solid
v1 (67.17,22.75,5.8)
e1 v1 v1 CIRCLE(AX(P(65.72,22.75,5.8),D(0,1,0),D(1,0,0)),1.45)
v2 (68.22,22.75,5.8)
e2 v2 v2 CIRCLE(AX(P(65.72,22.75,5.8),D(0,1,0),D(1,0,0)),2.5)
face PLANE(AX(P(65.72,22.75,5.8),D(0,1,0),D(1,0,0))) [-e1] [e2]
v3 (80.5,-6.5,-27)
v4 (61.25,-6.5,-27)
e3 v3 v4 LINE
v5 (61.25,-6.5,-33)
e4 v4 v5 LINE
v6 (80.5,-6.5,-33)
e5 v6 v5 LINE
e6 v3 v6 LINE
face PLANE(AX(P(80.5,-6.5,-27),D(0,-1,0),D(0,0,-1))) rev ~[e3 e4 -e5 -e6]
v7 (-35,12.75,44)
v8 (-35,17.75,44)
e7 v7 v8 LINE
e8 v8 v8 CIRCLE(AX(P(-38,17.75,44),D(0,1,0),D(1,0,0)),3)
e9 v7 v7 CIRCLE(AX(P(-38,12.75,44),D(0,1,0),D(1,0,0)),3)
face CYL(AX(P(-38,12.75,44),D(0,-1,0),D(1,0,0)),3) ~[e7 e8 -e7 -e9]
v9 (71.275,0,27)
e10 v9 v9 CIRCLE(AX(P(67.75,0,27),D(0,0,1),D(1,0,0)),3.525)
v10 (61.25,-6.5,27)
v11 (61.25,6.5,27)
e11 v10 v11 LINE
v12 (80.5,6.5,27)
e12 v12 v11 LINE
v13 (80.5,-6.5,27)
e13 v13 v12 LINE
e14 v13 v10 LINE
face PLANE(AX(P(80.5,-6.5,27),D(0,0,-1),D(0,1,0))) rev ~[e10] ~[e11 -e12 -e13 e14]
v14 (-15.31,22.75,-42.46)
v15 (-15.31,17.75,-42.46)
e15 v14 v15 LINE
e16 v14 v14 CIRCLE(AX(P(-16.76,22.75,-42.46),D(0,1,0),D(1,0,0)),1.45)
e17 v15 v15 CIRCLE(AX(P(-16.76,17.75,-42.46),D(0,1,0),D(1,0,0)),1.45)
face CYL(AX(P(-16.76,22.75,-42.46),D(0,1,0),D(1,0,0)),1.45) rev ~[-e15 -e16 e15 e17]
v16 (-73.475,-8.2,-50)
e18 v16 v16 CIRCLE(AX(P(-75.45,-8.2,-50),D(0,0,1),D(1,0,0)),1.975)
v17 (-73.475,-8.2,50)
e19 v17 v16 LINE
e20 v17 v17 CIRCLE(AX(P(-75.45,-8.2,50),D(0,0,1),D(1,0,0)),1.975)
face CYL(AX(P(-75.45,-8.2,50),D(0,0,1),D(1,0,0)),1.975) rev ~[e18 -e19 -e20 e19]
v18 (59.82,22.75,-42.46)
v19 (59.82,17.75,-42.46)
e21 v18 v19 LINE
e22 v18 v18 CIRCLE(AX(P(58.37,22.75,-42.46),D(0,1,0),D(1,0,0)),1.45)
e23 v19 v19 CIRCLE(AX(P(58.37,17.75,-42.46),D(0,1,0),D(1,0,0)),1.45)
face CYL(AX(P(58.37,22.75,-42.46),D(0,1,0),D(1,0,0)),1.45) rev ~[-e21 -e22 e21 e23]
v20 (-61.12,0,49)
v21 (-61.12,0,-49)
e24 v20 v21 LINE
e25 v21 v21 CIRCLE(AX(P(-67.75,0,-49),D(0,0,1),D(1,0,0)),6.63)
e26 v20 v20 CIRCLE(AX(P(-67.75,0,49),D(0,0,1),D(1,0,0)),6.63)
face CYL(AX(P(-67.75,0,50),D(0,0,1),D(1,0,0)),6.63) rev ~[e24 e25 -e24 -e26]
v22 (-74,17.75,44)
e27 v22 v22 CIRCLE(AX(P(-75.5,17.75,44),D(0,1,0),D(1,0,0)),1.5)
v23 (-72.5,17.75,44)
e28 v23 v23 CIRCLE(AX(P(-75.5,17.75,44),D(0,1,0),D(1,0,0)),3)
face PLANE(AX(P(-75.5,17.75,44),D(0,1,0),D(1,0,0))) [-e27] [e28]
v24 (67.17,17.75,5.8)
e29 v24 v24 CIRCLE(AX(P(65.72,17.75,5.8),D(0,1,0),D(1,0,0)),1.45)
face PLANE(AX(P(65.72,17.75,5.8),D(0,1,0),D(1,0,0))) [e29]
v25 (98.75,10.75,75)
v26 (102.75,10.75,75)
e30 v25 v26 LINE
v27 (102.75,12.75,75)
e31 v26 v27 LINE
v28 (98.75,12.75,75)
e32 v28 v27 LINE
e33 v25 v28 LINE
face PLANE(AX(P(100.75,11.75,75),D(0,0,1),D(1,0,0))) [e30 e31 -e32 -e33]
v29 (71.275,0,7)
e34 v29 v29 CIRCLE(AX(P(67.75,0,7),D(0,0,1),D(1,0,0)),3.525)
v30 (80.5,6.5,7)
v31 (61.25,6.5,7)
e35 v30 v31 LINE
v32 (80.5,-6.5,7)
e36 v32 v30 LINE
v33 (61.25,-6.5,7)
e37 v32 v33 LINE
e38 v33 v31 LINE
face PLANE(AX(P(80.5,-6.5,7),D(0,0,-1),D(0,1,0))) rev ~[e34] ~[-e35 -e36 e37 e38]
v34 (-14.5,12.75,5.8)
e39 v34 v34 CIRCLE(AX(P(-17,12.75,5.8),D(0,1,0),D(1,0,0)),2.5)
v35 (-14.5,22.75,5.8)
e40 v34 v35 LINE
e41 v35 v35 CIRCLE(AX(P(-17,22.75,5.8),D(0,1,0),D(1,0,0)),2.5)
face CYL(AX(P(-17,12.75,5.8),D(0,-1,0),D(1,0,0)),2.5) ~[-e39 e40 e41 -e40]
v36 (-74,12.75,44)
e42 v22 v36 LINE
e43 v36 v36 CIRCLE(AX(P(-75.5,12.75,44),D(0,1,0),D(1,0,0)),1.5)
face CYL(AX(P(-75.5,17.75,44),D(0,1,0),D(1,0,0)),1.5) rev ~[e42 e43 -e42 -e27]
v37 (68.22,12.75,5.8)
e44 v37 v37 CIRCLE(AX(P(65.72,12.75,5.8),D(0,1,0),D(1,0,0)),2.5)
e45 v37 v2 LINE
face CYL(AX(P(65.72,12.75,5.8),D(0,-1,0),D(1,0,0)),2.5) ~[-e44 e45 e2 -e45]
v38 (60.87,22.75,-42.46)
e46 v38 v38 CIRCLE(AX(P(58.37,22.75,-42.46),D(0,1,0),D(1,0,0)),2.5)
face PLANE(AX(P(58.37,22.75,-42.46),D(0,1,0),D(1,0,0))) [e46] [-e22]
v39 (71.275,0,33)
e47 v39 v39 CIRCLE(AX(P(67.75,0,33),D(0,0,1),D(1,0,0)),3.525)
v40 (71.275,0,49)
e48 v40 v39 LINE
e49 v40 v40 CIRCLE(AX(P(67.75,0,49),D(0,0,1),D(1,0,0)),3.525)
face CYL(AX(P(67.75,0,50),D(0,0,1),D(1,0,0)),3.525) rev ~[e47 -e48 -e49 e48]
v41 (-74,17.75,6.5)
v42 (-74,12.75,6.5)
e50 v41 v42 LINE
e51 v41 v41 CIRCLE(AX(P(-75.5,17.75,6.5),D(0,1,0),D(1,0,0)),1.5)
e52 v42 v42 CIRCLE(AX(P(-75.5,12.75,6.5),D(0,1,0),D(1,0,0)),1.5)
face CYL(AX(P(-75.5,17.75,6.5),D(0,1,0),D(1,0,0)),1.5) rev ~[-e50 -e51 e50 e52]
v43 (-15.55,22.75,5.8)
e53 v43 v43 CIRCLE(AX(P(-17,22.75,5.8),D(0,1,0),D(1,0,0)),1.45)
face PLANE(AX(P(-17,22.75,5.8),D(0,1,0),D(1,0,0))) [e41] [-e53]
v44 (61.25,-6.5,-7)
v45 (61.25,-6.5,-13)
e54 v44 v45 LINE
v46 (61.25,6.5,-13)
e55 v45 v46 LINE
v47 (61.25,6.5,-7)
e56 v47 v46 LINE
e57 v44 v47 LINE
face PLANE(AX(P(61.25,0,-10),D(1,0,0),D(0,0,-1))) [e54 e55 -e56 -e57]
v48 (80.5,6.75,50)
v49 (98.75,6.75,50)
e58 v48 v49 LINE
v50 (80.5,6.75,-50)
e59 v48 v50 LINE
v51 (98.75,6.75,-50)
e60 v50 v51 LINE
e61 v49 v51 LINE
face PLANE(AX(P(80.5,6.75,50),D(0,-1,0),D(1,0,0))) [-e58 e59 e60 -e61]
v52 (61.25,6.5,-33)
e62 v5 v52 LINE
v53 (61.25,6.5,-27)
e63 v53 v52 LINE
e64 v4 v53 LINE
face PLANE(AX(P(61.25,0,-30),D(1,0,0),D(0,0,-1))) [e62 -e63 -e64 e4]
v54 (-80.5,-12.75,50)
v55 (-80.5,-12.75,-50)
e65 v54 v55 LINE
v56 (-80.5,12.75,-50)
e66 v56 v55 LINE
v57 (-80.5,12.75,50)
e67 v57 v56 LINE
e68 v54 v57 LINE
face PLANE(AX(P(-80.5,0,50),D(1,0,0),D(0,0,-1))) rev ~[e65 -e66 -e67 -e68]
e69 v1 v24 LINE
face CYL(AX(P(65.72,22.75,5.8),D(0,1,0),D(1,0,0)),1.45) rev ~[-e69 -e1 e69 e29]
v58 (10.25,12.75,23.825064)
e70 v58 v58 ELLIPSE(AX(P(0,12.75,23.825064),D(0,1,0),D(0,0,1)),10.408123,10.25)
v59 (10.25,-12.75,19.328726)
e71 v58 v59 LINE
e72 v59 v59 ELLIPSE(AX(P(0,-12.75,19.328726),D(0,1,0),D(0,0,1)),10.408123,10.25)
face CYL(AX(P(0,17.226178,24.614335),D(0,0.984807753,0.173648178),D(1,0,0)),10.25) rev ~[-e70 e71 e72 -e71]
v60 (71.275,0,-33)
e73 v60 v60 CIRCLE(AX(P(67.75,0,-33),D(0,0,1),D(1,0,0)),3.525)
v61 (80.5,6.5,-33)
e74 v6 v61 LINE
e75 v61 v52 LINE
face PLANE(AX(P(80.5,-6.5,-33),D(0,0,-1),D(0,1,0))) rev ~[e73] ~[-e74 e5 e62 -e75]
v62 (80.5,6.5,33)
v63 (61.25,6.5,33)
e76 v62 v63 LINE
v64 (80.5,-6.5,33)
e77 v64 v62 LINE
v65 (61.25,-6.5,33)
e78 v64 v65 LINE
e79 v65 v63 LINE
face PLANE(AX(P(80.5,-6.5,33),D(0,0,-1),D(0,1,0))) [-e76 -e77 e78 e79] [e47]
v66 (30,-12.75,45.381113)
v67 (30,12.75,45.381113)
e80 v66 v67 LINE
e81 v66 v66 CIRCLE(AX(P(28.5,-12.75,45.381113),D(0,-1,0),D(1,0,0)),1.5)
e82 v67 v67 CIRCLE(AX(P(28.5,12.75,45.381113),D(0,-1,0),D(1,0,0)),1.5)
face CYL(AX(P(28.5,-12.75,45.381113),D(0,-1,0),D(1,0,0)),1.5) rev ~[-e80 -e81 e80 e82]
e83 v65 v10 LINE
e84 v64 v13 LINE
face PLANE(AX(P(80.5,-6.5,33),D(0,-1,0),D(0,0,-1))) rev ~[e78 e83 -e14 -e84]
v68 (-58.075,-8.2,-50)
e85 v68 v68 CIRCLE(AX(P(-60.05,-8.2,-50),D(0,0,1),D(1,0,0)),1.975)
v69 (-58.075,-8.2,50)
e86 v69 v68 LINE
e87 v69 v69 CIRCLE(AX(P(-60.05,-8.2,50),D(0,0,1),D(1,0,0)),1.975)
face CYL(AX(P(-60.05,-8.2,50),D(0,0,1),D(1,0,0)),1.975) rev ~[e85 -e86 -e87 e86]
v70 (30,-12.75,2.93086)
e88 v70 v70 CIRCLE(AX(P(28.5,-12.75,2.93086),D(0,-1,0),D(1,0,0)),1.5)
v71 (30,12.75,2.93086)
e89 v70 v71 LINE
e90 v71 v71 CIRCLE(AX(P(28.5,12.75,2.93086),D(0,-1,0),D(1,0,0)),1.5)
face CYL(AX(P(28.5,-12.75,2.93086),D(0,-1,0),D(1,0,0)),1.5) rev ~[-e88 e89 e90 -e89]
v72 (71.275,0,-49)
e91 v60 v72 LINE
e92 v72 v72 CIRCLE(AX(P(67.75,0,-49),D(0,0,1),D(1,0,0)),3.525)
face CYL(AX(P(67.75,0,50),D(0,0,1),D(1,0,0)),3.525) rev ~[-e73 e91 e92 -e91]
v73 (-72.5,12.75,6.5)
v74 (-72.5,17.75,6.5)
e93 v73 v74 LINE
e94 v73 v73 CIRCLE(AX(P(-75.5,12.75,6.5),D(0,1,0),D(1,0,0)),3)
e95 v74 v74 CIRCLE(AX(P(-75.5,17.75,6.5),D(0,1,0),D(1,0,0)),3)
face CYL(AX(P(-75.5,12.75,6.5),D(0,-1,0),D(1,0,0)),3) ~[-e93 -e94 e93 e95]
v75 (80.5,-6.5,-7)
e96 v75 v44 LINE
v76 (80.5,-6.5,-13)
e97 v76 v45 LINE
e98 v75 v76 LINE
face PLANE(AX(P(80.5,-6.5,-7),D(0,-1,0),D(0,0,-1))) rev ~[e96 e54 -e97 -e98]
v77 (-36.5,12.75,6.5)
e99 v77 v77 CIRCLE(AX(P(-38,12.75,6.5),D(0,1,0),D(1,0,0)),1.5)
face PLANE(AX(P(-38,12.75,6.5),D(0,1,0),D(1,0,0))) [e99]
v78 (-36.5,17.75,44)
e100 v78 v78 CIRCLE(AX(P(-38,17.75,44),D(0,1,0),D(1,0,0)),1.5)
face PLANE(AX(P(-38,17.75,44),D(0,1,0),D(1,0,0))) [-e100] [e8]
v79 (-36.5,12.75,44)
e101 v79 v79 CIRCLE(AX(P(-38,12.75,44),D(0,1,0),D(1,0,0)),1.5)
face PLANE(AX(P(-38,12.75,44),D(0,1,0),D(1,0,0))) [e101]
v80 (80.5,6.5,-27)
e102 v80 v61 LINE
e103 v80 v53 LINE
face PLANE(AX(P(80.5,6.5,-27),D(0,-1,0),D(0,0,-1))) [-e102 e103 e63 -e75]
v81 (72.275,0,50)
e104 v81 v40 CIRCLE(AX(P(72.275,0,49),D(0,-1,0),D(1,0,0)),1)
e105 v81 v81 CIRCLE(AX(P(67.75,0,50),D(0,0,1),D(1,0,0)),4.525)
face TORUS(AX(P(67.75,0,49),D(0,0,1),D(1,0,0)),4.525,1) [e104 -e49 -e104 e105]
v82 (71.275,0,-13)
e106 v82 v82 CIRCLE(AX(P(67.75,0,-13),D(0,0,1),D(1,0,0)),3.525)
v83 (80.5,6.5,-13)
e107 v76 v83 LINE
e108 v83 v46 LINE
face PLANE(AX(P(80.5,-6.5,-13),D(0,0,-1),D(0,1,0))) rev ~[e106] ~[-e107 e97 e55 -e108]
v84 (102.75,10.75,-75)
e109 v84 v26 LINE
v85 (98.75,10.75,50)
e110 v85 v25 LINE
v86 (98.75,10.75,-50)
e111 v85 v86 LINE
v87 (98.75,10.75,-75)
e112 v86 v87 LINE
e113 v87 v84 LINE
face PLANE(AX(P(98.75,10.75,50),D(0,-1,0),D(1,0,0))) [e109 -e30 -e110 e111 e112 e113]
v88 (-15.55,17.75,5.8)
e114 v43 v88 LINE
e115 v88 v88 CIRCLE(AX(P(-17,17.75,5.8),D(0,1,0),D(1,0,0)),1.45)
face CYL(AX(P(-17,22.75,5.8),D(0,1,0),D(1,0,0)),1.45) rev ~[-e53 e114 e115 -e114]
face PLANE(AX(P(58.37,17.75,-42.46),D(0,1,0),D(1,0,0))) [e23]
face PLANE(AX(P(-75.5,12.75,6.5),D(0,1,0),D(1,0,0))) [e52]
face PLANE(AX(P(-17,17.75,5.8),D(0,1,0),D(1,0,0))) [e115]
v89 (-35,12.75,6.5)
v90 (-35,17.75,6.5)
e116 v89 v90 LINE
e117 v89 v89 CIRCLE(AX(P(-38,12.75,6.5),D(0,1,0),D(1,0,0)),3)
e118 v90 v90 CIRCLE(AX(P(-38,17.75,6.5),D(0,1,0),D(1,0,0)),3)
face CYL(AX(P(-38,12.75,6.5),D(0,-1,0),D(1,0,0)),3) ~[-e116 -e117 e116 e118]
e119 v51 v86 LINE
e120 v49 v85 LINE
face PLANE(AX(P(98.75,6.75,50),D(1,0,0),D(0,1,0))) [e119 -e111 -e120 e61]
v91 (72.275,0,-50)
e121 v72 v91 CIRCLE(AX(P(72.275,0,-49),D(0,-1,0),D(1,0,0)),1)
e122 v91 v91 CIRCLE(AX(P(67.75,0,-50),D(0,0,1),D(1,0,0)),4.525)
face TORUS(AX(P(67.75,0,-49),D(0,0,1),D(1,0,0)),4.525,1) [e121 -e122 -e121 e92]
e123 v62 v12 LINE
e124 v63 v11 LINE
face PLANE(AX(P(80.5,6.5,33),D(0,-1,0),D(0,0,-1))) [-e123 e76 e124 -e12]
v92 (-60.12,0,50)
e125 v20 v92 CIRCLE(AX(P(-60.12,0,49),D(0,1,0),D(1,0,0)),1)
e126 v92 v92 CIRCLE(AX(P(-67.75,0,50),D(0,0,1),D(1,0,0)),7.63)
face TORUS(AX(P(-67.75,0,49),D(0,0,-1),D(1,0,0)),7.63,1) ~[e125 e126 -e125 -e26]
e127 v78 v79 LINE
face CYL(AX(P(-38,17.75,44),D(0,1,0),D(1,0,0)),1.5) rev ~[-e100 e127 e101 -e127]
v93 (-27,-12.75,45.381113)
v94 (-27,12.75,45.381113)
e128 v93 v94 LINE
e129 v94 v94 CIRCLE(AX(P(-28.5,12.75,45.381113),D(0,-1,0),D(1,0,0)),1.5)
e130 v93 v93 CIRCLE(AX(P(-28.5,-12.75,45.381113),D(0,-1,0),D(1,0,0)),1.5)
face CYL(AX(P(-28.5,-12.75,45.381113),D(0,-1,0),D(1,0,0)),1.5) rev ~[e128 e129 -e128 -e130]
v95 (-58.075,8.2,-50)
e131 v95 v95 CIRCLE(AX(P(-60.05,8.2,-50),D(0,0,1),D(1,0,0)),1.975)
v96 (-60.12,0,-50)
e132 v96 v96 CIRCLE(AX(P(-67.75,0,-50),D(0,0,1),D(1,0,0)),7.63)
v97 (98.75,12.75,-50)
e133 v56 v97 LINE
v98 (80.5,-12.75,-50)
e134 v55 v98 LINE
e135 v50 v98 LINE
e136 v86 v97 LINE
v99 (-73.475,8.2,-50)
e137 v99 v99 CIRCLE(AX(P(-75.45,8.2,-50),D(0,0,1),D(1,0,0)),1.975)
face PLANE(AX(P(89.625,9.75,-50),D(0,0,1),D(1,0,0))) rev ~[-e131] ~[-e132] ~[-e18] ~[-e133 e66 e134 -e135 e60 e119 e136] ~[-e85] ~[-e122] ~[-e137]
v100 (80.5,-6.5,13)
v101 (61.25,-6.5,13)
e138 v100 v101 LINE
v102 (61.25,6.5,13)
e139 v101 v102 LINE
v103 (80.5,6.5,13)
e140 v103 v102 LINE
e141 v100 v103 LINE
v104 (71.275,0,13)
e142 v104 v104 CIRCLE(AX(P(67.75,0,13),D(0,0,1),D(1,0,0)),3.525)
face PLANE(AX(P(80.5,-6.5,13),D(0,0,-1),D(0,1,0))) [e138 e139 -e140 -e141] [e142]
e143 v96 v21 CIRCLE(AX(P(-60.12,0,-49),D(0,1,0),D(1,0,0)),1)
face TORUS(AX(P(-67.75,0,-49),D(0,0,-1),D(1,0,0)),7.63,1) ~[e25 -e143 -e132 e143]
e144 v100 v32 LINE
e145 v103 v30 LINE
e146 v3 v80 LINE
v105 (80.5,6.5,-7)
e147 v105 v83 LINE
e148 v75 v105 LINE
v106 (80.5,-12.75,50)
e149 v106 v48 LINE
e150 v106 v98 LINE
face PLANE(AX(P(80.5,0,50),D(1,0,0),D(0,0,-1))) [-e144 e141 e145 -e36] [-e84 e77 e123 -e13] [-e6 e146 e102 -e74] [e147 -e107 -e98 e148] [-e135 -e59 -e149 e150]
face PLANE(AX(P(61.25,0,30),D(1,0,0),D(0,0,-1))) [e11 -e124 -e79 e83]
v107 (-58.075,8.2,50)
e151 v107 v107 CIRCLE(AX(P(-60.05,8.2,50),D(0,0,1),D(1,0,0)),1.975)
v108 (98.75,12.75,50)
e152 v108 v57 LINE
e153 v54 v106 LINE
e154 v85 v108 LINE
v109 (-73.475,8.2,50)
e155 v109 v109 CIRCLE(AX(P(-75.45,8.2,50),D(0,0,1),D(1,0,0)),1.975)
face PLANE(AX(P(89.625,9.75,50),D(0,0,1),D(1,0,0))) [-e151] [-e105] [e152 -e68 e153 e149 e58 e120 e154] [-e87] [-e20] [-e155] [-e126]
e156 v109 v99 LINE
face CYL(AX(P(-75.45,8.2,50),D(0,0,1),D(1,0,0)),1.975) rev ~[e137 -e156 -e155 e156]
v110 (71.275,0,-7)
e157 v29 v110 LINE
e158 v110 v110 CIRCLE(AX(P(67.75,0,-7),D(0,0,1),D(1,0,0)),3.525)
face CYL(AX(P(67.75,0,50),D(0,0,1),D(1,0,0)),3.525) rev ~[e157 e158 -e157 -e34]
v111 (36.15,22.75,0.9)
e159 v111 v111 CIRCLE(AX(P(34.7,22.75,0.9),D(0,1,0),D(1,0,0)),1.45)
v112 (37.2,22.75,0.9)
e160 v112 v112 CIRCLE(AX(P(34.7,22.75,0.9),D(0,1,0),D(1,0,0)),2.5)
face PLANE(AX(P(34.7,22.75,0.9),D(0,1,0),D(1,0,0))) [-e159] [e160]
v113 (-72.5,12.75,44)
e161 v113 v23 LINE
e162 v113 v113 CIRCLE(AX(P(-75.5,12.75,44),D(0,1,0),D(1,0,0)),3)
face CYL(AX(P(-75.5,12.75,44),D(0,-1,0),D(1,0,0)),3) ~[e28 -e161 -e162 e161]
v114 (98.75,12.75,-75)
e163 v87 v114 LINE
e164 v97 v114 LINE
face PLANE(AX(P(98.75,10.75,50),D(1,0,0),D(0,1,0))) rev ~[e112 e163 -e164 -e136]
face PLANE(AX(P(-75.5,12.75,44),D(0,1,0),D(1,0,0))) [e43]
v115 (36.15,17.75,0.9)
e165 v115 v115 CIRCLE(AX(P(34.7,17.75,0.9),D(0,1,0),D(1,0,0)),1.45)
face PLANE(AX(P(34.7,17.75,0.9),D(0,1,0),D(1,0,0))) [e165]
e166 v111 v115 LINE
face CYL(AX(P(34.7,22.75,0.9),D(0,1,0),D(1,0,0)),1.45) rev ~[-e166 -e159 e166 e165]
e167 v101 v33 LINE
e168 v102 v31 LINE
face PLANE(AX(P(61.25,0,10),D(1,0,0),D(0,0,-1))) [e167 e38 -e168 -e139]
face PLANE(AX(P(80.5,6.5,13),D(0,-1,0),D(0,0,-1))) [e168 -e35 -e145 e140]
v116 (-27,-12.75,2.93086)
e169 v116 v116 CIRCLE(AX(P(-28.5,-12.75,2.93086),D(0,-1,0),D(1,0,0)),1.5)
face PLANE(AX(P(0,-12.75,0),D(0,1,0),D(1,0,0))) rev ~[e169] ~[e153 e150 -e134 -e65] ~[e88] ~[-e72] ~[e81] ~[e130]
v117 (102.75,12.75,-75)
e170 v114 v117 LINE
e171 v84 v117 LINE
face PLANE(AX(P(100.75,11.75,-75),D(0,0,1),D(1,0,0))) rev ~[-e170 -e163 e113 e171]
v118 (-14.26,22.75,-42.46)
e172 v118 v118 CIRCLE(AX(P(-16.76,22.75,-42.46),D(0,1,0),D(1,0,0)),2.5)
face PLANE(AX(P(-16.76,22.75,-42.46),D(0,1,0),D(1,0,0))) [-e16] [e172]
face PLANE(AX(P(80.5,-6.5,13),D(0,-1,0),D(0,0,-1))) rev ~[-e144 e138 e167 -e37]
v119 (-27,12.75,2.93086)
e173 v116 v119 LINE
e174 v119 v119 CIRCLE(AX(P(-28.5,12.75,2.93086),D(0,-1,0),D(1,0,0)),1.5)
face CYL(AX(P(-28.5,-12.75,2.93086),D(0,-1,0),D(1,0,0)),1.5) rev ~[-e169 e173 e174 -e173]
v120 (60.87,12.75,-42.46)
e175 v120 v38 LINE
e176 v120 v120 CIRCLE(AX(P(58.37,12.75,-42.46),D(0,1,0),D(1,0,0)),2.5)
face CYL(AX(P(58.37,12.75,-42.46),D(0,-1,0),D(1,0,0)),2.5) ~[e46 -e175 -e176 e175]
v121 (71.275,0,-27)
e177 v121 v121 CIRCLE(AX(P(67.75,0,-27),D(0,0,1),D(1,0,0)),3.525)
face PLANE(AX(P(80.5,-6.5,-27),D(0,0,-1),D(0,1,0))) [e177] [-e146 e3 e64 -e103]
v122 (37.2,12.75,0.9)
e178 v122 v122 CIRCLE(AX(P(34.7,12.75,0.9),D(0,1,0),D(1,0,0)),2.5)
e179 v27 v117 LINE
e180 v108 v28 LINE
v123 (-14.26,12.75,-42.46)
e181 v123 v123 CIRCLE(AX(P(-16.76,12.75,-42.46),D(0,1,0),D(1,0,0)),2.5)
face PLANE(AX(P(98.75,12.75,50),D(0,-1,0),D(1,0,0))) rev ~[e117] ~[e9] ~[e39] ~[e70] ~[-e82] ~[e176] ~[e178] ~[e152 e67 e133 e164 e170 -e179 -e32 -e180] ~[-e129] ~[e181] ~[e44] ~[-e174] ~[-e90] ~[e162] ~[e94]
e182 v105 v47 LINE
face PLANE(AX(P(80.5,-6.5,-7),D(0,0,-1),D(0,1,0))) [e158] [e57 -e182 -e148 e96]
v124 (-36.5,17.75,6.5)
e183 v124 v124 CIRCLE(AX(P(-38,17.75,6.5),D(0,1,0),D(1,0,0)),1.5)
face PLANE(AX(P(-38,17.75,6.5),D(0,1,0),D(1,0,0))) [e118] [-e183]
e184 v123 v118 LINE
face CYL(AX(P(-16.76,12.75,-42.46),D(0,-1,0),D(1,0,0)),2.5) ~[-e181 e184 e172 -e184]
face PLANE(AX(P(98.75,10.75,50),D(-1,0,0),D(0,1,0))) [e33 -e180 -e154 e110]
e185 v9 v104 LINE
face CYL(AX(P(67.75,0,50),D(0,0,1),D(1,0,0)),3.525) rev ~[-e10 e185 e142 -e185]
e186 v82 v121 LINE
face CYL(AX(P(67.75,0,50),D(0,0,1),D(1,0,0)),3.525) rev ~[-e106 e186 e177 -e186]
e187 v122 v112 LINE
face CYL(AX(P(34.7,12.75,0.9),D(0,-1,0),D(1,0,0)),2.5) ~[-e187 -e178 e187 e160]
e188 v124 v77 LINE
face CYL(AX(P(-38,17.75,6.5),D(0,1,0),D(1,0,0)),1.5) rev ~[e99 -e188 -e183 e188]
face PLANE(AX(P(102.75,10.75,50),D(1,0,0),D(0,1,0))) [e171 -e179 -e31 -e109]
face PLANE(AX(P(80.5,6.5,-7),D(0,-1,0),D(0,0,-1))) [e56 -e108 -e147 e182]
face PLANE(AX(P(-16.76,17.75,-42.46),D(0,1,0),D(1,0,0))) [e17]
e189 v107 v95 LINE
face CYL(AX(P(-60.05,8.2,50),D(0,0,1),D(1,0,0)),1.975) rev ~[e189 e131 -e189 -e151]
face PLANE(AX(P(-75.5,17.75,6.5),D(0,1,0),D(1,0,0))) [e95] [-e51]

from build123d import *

# Parameters (mm, degrees)
SKETCH1_W                = 161
SKETCH1_H                = 100
BOSS_EXTRUDE1_DEPTH      = 12.75
BOSS_EXTRUDE1_DEPTH_BACK = 12.75
SKETCH2_R                = 6.63
SKETCH2_R_2              = 3.525
SKETCH2_R_3              = 1.975
CUT_EXTRUDE1_DEPTH       = 101
FILLET1_R                = 1
FILLET2_R                = 1
FILLET3_R                = 1
FILLET4_R                = 1
SKETCH3_R                = 2.5
BOSS_EXTRUDE2_DEPTH      = 10
SKETCH4_R                = 1.45
CUT_EXTRUDE2_DEPTH       = 5
SKETCH5_W                = 6
SKETCH5_H                = 13
CUT_EXTRUDE3_DEPTH       = 19.25
SKETCH6_R                = 10.25
CUT_EXTRUDE4_DEPTH       = 43.477415469
SKETCH8_R                = 1.5
CUT_EXTRUDE5_DEPTH       = 36.5
SKETCH11_R               = 3
BOSS_EXTRUDE4_DEPTH      = 5
SKETCH12_R               = 1.5
CUT_EXTRUDE7_DEPTH       = 5
SKETCH13_W               = 18.25
SKETCH13_H               = 6
BOSS_EXTRUDE5_DEPTH      = 100
SKETCH14_W               = 4
SKETCH14_H               = 2
BOSS_EXTRUDE6_DEPTH      = 25
BOSS_EXTRUDE6_DEPTH_BACK = 125


with BuildPart() as part:
    # Sketch1 → Boss-Extrude1 (new body, two sides)
    with BuildSketch(Plane(origin=(0, 0, 0), x_dir=(1, 0, 0), z_dir=(0, 1, 0))) as boss_extrude1_sk:
        Rectangle(SKETCH1_W, SKETCH1_H)
    extrude(amount=BOSS_EXTRUDE1_DEPTH)
    extrude(boss_extrude1_sk.sketch, amount=-BOSS_EXTRUDE1_DEPTH_BACK)

    # Sketch2 → Cut-Extrude1 (cut, through all)
    with BuildSketch(Plane.XY.offset(50)):
        with Locations((-67.75, 0)):
            Circle(SKETCH2_R)
        with Locations((67.75, 0)):
            Circle(SKETCH2_R_2)
        with Locations((-75.45, 8.2)):
            Circle(SKETCH2_R_3)
        with Locations((-75.45, -8.2)):
            Circle(SKETCH2_R_3)
        with Locations((-60.05, -8.2)):
            Circle(SKETCH2_R_3)
        with Locations((-60.05, 8.2)):
            Circle(SKETCH2_R_3)
    extrude(amount=-CUT_EXTRUDE1_DEPTH, mode=Mode.SUBTRACT)

    # Fillet1
    fillet1_edges = [part.edges().sort_by_distance(p)[0] for p in [
        (-74.38, 0, -50),
    ]]
    fillet(fillet1_edges, radius=FILLET1_R)

    # Fillet2
    fillet2_edges = [part.edges().sort_by_distance(p)[0] for p in [
        (-74.38, 0, 50),
    ]]
    fillet(fillet2_edges, radius=FILLET2_R)

    # Fillet3
    fillet3_edges = [part.edges().sort_by_distance(p)[0] for p in [
        (64.225, 0, 50),
    ]]
    fillet(fillet3_edges, radius=FILLET3_R)

    # Fillet4
    fillet4_edges = [part.edges().sort_by_distance(p)[0] for p in [
        (64.225, 0, -50),
    ]]
    fillet(fillet4_edges, radius=FILLET4_R)

    # Sketch3 → Boss-Extrude2 (add)
    with BuildSketch(Plane(origin=(0, 12.75, 0), x_dir=(1, 0, 0), z_dir=(0, 1, 0))):
        with Locations((-16.76, 42.46)):
            Circle(SKETCH3_R)
        with Locations((58.37, 42.46)):
            Circle(SKETCH3_R)
        with Locations((-17, -5.8)):
            Circle(SKETCH3_R)
        with Locations((34.7, -0.9)):
            Circle(SKETCH3_R)
        with Locations((65.72, -5.8)):
            Circle(SKETCH3_R)
    extrude(amount=BOSS_EXTRUDE2_DEPTH)

    # Sketch4 → Cut-Extrude2 (cut)
    with BuildSketch(Plane(origin=(0, 22.75, 0), x_dir=(1, 0, 0), z_dir=(0, 1, 0))):
        with Locations((-16.76, 42.46)):
            Circle(SKETCH4_R)
        with Locations((-17, -5.8)):
            Circle(SKETCH4_R)
        with Locations((34.7, -0.9)):
            Circle(SKETCH4_R)
        with Locations((65.72, -5.8)):
            Circle(SKETCH4_R)
        with Locations((58.37, 42.46)):
            Circle(SKETCH4_R)
    extrude(amount=-CUT_EXTRUDE2_DEPTH, mode=Mode.SUBTRACT)

    # Sketch5 → Cut-Extrude3 (cut)
    with BuildSketch(Plane(origin=(80.5, 0, 0), x_dir=(0, 0, -1), z_dir=(1, 0, 0))):
        with Locations((-30, 0)):
            Rectangle(SKETCH5_W, SKETCH5_H)
        with Locations((-10, 0)):
            Rectangle(SKETCH5_W, SKETCH5_H)
        with Locations((10, 0)):
            Rectangle(SKETCH5_W, SKETCH5_H)
        with Locations((30, 0)):
            Rectangle(SKETCH5_W, SKETCH5_H)
    extrude(amount=-CUT_EXTRUDE3_DEPTH, mode=Mode.SUBTRACT)

    # Sketch6 → Cut-Extrude4 (cut, through all)
    with BuildSketch(Plane(origin=(0, 20.916044041, 3.688062894), x_dir=(1, 0, 0), z_dir=(0, 0.984807753, 0.173648178))):
        with Locations((0, -21.249093385)):
            Circle(SKETCH6_R)
    extrude(amount=-CUT_EXTRUDE4_DEPTH, mode=Mode.SUBTRACT)

    # Sketch8 → Cut-Extrude5 (cut, through all)
    with BuildSketch(Plane.XZ.offset(12.75)):
        with Locations((28.5, 2.93086019)):
            Circle(SKETCH8_R)
        with Locations((28.5, 45.38111272)):
            Circle(SKETCH8_R)
        with Locations((-28.5, 2.93086019)):
            Circle(SKETCH8_R)
        with Locations((-28.5, 45.38111272)):
            Circle(SKETCH8_R)
    extrude(amount=-CUT_EXTRUDE5_DEPTH, mode=Mode.SUBTRACT)

    # Sketch11 → Boss-Extrude4 (add)
    with BuildSketch(Plane(origin=(0, 12.75, 0), x_dir=(1, 0, 0), z_dir=(0, 1, 0))):
        with Locations((-38, -6.5)):
            Circle(SKETCH11_R)
        with Locations((-38, -44)):
            Circle(SKETCH11_R)
        with Locations((-75.5, -6.5)):
            Circle(SKETCH11_R)
        with Locations((-75.5, -44)):
            Circle(SKETCH11_R)
    extrude(amount=BOSS_EXTRUDE4_DEPTH)

    # Sketch12 → Cut-Extrude7 (cut)
    with BuildSketch(Plane(origin=(0, 17.75, 0), x_dir=(1, 0, 0), z_dir=(0, 1, 0))):
        with Locations((-75.5, -44)):
            Circle(SKETCH12_R)
        with Locations((-75.5, -6.5)):
            Circle(SKETCH12_R)
        with Locations((-38, -6.5)):
            Circle(SKETCH12_R)
        with Locations((-38, -44)):
            Circle(SKETCH12_R)
    extrude(amount=-CUT_EXTRUDE7_DEPTH, mode=Mode.SUBTRACT)

    # Sketch13 → Boss-Extrude5 (add)
    with BuildSketch(Plane.XY.offset(50)):
        with Locations((89.625, 9.75)):
            Rectangle(SKETCH13_W, SKETCH13_H)
    extrude(amount=-BOSS_EXTRUDE5_DEPTH)

    # Sketch14 → Boss-Extrude6 (add, two sides)
    with BuildSketch(Plane.XY.offset(50)) as boss_extrude6_sk:
        with Locations((100.75, 11.75)):
            Rectangle(SKETCH14_W, SKETCH14_H)
    extrude(amount=BOSS_EXTRUDE6_DEPTH)
    extrude(boss_extrude6_sk.sketch, amount=-BOSS_EXTRUDE6_DEPTH_BACK)


solid = part.part
